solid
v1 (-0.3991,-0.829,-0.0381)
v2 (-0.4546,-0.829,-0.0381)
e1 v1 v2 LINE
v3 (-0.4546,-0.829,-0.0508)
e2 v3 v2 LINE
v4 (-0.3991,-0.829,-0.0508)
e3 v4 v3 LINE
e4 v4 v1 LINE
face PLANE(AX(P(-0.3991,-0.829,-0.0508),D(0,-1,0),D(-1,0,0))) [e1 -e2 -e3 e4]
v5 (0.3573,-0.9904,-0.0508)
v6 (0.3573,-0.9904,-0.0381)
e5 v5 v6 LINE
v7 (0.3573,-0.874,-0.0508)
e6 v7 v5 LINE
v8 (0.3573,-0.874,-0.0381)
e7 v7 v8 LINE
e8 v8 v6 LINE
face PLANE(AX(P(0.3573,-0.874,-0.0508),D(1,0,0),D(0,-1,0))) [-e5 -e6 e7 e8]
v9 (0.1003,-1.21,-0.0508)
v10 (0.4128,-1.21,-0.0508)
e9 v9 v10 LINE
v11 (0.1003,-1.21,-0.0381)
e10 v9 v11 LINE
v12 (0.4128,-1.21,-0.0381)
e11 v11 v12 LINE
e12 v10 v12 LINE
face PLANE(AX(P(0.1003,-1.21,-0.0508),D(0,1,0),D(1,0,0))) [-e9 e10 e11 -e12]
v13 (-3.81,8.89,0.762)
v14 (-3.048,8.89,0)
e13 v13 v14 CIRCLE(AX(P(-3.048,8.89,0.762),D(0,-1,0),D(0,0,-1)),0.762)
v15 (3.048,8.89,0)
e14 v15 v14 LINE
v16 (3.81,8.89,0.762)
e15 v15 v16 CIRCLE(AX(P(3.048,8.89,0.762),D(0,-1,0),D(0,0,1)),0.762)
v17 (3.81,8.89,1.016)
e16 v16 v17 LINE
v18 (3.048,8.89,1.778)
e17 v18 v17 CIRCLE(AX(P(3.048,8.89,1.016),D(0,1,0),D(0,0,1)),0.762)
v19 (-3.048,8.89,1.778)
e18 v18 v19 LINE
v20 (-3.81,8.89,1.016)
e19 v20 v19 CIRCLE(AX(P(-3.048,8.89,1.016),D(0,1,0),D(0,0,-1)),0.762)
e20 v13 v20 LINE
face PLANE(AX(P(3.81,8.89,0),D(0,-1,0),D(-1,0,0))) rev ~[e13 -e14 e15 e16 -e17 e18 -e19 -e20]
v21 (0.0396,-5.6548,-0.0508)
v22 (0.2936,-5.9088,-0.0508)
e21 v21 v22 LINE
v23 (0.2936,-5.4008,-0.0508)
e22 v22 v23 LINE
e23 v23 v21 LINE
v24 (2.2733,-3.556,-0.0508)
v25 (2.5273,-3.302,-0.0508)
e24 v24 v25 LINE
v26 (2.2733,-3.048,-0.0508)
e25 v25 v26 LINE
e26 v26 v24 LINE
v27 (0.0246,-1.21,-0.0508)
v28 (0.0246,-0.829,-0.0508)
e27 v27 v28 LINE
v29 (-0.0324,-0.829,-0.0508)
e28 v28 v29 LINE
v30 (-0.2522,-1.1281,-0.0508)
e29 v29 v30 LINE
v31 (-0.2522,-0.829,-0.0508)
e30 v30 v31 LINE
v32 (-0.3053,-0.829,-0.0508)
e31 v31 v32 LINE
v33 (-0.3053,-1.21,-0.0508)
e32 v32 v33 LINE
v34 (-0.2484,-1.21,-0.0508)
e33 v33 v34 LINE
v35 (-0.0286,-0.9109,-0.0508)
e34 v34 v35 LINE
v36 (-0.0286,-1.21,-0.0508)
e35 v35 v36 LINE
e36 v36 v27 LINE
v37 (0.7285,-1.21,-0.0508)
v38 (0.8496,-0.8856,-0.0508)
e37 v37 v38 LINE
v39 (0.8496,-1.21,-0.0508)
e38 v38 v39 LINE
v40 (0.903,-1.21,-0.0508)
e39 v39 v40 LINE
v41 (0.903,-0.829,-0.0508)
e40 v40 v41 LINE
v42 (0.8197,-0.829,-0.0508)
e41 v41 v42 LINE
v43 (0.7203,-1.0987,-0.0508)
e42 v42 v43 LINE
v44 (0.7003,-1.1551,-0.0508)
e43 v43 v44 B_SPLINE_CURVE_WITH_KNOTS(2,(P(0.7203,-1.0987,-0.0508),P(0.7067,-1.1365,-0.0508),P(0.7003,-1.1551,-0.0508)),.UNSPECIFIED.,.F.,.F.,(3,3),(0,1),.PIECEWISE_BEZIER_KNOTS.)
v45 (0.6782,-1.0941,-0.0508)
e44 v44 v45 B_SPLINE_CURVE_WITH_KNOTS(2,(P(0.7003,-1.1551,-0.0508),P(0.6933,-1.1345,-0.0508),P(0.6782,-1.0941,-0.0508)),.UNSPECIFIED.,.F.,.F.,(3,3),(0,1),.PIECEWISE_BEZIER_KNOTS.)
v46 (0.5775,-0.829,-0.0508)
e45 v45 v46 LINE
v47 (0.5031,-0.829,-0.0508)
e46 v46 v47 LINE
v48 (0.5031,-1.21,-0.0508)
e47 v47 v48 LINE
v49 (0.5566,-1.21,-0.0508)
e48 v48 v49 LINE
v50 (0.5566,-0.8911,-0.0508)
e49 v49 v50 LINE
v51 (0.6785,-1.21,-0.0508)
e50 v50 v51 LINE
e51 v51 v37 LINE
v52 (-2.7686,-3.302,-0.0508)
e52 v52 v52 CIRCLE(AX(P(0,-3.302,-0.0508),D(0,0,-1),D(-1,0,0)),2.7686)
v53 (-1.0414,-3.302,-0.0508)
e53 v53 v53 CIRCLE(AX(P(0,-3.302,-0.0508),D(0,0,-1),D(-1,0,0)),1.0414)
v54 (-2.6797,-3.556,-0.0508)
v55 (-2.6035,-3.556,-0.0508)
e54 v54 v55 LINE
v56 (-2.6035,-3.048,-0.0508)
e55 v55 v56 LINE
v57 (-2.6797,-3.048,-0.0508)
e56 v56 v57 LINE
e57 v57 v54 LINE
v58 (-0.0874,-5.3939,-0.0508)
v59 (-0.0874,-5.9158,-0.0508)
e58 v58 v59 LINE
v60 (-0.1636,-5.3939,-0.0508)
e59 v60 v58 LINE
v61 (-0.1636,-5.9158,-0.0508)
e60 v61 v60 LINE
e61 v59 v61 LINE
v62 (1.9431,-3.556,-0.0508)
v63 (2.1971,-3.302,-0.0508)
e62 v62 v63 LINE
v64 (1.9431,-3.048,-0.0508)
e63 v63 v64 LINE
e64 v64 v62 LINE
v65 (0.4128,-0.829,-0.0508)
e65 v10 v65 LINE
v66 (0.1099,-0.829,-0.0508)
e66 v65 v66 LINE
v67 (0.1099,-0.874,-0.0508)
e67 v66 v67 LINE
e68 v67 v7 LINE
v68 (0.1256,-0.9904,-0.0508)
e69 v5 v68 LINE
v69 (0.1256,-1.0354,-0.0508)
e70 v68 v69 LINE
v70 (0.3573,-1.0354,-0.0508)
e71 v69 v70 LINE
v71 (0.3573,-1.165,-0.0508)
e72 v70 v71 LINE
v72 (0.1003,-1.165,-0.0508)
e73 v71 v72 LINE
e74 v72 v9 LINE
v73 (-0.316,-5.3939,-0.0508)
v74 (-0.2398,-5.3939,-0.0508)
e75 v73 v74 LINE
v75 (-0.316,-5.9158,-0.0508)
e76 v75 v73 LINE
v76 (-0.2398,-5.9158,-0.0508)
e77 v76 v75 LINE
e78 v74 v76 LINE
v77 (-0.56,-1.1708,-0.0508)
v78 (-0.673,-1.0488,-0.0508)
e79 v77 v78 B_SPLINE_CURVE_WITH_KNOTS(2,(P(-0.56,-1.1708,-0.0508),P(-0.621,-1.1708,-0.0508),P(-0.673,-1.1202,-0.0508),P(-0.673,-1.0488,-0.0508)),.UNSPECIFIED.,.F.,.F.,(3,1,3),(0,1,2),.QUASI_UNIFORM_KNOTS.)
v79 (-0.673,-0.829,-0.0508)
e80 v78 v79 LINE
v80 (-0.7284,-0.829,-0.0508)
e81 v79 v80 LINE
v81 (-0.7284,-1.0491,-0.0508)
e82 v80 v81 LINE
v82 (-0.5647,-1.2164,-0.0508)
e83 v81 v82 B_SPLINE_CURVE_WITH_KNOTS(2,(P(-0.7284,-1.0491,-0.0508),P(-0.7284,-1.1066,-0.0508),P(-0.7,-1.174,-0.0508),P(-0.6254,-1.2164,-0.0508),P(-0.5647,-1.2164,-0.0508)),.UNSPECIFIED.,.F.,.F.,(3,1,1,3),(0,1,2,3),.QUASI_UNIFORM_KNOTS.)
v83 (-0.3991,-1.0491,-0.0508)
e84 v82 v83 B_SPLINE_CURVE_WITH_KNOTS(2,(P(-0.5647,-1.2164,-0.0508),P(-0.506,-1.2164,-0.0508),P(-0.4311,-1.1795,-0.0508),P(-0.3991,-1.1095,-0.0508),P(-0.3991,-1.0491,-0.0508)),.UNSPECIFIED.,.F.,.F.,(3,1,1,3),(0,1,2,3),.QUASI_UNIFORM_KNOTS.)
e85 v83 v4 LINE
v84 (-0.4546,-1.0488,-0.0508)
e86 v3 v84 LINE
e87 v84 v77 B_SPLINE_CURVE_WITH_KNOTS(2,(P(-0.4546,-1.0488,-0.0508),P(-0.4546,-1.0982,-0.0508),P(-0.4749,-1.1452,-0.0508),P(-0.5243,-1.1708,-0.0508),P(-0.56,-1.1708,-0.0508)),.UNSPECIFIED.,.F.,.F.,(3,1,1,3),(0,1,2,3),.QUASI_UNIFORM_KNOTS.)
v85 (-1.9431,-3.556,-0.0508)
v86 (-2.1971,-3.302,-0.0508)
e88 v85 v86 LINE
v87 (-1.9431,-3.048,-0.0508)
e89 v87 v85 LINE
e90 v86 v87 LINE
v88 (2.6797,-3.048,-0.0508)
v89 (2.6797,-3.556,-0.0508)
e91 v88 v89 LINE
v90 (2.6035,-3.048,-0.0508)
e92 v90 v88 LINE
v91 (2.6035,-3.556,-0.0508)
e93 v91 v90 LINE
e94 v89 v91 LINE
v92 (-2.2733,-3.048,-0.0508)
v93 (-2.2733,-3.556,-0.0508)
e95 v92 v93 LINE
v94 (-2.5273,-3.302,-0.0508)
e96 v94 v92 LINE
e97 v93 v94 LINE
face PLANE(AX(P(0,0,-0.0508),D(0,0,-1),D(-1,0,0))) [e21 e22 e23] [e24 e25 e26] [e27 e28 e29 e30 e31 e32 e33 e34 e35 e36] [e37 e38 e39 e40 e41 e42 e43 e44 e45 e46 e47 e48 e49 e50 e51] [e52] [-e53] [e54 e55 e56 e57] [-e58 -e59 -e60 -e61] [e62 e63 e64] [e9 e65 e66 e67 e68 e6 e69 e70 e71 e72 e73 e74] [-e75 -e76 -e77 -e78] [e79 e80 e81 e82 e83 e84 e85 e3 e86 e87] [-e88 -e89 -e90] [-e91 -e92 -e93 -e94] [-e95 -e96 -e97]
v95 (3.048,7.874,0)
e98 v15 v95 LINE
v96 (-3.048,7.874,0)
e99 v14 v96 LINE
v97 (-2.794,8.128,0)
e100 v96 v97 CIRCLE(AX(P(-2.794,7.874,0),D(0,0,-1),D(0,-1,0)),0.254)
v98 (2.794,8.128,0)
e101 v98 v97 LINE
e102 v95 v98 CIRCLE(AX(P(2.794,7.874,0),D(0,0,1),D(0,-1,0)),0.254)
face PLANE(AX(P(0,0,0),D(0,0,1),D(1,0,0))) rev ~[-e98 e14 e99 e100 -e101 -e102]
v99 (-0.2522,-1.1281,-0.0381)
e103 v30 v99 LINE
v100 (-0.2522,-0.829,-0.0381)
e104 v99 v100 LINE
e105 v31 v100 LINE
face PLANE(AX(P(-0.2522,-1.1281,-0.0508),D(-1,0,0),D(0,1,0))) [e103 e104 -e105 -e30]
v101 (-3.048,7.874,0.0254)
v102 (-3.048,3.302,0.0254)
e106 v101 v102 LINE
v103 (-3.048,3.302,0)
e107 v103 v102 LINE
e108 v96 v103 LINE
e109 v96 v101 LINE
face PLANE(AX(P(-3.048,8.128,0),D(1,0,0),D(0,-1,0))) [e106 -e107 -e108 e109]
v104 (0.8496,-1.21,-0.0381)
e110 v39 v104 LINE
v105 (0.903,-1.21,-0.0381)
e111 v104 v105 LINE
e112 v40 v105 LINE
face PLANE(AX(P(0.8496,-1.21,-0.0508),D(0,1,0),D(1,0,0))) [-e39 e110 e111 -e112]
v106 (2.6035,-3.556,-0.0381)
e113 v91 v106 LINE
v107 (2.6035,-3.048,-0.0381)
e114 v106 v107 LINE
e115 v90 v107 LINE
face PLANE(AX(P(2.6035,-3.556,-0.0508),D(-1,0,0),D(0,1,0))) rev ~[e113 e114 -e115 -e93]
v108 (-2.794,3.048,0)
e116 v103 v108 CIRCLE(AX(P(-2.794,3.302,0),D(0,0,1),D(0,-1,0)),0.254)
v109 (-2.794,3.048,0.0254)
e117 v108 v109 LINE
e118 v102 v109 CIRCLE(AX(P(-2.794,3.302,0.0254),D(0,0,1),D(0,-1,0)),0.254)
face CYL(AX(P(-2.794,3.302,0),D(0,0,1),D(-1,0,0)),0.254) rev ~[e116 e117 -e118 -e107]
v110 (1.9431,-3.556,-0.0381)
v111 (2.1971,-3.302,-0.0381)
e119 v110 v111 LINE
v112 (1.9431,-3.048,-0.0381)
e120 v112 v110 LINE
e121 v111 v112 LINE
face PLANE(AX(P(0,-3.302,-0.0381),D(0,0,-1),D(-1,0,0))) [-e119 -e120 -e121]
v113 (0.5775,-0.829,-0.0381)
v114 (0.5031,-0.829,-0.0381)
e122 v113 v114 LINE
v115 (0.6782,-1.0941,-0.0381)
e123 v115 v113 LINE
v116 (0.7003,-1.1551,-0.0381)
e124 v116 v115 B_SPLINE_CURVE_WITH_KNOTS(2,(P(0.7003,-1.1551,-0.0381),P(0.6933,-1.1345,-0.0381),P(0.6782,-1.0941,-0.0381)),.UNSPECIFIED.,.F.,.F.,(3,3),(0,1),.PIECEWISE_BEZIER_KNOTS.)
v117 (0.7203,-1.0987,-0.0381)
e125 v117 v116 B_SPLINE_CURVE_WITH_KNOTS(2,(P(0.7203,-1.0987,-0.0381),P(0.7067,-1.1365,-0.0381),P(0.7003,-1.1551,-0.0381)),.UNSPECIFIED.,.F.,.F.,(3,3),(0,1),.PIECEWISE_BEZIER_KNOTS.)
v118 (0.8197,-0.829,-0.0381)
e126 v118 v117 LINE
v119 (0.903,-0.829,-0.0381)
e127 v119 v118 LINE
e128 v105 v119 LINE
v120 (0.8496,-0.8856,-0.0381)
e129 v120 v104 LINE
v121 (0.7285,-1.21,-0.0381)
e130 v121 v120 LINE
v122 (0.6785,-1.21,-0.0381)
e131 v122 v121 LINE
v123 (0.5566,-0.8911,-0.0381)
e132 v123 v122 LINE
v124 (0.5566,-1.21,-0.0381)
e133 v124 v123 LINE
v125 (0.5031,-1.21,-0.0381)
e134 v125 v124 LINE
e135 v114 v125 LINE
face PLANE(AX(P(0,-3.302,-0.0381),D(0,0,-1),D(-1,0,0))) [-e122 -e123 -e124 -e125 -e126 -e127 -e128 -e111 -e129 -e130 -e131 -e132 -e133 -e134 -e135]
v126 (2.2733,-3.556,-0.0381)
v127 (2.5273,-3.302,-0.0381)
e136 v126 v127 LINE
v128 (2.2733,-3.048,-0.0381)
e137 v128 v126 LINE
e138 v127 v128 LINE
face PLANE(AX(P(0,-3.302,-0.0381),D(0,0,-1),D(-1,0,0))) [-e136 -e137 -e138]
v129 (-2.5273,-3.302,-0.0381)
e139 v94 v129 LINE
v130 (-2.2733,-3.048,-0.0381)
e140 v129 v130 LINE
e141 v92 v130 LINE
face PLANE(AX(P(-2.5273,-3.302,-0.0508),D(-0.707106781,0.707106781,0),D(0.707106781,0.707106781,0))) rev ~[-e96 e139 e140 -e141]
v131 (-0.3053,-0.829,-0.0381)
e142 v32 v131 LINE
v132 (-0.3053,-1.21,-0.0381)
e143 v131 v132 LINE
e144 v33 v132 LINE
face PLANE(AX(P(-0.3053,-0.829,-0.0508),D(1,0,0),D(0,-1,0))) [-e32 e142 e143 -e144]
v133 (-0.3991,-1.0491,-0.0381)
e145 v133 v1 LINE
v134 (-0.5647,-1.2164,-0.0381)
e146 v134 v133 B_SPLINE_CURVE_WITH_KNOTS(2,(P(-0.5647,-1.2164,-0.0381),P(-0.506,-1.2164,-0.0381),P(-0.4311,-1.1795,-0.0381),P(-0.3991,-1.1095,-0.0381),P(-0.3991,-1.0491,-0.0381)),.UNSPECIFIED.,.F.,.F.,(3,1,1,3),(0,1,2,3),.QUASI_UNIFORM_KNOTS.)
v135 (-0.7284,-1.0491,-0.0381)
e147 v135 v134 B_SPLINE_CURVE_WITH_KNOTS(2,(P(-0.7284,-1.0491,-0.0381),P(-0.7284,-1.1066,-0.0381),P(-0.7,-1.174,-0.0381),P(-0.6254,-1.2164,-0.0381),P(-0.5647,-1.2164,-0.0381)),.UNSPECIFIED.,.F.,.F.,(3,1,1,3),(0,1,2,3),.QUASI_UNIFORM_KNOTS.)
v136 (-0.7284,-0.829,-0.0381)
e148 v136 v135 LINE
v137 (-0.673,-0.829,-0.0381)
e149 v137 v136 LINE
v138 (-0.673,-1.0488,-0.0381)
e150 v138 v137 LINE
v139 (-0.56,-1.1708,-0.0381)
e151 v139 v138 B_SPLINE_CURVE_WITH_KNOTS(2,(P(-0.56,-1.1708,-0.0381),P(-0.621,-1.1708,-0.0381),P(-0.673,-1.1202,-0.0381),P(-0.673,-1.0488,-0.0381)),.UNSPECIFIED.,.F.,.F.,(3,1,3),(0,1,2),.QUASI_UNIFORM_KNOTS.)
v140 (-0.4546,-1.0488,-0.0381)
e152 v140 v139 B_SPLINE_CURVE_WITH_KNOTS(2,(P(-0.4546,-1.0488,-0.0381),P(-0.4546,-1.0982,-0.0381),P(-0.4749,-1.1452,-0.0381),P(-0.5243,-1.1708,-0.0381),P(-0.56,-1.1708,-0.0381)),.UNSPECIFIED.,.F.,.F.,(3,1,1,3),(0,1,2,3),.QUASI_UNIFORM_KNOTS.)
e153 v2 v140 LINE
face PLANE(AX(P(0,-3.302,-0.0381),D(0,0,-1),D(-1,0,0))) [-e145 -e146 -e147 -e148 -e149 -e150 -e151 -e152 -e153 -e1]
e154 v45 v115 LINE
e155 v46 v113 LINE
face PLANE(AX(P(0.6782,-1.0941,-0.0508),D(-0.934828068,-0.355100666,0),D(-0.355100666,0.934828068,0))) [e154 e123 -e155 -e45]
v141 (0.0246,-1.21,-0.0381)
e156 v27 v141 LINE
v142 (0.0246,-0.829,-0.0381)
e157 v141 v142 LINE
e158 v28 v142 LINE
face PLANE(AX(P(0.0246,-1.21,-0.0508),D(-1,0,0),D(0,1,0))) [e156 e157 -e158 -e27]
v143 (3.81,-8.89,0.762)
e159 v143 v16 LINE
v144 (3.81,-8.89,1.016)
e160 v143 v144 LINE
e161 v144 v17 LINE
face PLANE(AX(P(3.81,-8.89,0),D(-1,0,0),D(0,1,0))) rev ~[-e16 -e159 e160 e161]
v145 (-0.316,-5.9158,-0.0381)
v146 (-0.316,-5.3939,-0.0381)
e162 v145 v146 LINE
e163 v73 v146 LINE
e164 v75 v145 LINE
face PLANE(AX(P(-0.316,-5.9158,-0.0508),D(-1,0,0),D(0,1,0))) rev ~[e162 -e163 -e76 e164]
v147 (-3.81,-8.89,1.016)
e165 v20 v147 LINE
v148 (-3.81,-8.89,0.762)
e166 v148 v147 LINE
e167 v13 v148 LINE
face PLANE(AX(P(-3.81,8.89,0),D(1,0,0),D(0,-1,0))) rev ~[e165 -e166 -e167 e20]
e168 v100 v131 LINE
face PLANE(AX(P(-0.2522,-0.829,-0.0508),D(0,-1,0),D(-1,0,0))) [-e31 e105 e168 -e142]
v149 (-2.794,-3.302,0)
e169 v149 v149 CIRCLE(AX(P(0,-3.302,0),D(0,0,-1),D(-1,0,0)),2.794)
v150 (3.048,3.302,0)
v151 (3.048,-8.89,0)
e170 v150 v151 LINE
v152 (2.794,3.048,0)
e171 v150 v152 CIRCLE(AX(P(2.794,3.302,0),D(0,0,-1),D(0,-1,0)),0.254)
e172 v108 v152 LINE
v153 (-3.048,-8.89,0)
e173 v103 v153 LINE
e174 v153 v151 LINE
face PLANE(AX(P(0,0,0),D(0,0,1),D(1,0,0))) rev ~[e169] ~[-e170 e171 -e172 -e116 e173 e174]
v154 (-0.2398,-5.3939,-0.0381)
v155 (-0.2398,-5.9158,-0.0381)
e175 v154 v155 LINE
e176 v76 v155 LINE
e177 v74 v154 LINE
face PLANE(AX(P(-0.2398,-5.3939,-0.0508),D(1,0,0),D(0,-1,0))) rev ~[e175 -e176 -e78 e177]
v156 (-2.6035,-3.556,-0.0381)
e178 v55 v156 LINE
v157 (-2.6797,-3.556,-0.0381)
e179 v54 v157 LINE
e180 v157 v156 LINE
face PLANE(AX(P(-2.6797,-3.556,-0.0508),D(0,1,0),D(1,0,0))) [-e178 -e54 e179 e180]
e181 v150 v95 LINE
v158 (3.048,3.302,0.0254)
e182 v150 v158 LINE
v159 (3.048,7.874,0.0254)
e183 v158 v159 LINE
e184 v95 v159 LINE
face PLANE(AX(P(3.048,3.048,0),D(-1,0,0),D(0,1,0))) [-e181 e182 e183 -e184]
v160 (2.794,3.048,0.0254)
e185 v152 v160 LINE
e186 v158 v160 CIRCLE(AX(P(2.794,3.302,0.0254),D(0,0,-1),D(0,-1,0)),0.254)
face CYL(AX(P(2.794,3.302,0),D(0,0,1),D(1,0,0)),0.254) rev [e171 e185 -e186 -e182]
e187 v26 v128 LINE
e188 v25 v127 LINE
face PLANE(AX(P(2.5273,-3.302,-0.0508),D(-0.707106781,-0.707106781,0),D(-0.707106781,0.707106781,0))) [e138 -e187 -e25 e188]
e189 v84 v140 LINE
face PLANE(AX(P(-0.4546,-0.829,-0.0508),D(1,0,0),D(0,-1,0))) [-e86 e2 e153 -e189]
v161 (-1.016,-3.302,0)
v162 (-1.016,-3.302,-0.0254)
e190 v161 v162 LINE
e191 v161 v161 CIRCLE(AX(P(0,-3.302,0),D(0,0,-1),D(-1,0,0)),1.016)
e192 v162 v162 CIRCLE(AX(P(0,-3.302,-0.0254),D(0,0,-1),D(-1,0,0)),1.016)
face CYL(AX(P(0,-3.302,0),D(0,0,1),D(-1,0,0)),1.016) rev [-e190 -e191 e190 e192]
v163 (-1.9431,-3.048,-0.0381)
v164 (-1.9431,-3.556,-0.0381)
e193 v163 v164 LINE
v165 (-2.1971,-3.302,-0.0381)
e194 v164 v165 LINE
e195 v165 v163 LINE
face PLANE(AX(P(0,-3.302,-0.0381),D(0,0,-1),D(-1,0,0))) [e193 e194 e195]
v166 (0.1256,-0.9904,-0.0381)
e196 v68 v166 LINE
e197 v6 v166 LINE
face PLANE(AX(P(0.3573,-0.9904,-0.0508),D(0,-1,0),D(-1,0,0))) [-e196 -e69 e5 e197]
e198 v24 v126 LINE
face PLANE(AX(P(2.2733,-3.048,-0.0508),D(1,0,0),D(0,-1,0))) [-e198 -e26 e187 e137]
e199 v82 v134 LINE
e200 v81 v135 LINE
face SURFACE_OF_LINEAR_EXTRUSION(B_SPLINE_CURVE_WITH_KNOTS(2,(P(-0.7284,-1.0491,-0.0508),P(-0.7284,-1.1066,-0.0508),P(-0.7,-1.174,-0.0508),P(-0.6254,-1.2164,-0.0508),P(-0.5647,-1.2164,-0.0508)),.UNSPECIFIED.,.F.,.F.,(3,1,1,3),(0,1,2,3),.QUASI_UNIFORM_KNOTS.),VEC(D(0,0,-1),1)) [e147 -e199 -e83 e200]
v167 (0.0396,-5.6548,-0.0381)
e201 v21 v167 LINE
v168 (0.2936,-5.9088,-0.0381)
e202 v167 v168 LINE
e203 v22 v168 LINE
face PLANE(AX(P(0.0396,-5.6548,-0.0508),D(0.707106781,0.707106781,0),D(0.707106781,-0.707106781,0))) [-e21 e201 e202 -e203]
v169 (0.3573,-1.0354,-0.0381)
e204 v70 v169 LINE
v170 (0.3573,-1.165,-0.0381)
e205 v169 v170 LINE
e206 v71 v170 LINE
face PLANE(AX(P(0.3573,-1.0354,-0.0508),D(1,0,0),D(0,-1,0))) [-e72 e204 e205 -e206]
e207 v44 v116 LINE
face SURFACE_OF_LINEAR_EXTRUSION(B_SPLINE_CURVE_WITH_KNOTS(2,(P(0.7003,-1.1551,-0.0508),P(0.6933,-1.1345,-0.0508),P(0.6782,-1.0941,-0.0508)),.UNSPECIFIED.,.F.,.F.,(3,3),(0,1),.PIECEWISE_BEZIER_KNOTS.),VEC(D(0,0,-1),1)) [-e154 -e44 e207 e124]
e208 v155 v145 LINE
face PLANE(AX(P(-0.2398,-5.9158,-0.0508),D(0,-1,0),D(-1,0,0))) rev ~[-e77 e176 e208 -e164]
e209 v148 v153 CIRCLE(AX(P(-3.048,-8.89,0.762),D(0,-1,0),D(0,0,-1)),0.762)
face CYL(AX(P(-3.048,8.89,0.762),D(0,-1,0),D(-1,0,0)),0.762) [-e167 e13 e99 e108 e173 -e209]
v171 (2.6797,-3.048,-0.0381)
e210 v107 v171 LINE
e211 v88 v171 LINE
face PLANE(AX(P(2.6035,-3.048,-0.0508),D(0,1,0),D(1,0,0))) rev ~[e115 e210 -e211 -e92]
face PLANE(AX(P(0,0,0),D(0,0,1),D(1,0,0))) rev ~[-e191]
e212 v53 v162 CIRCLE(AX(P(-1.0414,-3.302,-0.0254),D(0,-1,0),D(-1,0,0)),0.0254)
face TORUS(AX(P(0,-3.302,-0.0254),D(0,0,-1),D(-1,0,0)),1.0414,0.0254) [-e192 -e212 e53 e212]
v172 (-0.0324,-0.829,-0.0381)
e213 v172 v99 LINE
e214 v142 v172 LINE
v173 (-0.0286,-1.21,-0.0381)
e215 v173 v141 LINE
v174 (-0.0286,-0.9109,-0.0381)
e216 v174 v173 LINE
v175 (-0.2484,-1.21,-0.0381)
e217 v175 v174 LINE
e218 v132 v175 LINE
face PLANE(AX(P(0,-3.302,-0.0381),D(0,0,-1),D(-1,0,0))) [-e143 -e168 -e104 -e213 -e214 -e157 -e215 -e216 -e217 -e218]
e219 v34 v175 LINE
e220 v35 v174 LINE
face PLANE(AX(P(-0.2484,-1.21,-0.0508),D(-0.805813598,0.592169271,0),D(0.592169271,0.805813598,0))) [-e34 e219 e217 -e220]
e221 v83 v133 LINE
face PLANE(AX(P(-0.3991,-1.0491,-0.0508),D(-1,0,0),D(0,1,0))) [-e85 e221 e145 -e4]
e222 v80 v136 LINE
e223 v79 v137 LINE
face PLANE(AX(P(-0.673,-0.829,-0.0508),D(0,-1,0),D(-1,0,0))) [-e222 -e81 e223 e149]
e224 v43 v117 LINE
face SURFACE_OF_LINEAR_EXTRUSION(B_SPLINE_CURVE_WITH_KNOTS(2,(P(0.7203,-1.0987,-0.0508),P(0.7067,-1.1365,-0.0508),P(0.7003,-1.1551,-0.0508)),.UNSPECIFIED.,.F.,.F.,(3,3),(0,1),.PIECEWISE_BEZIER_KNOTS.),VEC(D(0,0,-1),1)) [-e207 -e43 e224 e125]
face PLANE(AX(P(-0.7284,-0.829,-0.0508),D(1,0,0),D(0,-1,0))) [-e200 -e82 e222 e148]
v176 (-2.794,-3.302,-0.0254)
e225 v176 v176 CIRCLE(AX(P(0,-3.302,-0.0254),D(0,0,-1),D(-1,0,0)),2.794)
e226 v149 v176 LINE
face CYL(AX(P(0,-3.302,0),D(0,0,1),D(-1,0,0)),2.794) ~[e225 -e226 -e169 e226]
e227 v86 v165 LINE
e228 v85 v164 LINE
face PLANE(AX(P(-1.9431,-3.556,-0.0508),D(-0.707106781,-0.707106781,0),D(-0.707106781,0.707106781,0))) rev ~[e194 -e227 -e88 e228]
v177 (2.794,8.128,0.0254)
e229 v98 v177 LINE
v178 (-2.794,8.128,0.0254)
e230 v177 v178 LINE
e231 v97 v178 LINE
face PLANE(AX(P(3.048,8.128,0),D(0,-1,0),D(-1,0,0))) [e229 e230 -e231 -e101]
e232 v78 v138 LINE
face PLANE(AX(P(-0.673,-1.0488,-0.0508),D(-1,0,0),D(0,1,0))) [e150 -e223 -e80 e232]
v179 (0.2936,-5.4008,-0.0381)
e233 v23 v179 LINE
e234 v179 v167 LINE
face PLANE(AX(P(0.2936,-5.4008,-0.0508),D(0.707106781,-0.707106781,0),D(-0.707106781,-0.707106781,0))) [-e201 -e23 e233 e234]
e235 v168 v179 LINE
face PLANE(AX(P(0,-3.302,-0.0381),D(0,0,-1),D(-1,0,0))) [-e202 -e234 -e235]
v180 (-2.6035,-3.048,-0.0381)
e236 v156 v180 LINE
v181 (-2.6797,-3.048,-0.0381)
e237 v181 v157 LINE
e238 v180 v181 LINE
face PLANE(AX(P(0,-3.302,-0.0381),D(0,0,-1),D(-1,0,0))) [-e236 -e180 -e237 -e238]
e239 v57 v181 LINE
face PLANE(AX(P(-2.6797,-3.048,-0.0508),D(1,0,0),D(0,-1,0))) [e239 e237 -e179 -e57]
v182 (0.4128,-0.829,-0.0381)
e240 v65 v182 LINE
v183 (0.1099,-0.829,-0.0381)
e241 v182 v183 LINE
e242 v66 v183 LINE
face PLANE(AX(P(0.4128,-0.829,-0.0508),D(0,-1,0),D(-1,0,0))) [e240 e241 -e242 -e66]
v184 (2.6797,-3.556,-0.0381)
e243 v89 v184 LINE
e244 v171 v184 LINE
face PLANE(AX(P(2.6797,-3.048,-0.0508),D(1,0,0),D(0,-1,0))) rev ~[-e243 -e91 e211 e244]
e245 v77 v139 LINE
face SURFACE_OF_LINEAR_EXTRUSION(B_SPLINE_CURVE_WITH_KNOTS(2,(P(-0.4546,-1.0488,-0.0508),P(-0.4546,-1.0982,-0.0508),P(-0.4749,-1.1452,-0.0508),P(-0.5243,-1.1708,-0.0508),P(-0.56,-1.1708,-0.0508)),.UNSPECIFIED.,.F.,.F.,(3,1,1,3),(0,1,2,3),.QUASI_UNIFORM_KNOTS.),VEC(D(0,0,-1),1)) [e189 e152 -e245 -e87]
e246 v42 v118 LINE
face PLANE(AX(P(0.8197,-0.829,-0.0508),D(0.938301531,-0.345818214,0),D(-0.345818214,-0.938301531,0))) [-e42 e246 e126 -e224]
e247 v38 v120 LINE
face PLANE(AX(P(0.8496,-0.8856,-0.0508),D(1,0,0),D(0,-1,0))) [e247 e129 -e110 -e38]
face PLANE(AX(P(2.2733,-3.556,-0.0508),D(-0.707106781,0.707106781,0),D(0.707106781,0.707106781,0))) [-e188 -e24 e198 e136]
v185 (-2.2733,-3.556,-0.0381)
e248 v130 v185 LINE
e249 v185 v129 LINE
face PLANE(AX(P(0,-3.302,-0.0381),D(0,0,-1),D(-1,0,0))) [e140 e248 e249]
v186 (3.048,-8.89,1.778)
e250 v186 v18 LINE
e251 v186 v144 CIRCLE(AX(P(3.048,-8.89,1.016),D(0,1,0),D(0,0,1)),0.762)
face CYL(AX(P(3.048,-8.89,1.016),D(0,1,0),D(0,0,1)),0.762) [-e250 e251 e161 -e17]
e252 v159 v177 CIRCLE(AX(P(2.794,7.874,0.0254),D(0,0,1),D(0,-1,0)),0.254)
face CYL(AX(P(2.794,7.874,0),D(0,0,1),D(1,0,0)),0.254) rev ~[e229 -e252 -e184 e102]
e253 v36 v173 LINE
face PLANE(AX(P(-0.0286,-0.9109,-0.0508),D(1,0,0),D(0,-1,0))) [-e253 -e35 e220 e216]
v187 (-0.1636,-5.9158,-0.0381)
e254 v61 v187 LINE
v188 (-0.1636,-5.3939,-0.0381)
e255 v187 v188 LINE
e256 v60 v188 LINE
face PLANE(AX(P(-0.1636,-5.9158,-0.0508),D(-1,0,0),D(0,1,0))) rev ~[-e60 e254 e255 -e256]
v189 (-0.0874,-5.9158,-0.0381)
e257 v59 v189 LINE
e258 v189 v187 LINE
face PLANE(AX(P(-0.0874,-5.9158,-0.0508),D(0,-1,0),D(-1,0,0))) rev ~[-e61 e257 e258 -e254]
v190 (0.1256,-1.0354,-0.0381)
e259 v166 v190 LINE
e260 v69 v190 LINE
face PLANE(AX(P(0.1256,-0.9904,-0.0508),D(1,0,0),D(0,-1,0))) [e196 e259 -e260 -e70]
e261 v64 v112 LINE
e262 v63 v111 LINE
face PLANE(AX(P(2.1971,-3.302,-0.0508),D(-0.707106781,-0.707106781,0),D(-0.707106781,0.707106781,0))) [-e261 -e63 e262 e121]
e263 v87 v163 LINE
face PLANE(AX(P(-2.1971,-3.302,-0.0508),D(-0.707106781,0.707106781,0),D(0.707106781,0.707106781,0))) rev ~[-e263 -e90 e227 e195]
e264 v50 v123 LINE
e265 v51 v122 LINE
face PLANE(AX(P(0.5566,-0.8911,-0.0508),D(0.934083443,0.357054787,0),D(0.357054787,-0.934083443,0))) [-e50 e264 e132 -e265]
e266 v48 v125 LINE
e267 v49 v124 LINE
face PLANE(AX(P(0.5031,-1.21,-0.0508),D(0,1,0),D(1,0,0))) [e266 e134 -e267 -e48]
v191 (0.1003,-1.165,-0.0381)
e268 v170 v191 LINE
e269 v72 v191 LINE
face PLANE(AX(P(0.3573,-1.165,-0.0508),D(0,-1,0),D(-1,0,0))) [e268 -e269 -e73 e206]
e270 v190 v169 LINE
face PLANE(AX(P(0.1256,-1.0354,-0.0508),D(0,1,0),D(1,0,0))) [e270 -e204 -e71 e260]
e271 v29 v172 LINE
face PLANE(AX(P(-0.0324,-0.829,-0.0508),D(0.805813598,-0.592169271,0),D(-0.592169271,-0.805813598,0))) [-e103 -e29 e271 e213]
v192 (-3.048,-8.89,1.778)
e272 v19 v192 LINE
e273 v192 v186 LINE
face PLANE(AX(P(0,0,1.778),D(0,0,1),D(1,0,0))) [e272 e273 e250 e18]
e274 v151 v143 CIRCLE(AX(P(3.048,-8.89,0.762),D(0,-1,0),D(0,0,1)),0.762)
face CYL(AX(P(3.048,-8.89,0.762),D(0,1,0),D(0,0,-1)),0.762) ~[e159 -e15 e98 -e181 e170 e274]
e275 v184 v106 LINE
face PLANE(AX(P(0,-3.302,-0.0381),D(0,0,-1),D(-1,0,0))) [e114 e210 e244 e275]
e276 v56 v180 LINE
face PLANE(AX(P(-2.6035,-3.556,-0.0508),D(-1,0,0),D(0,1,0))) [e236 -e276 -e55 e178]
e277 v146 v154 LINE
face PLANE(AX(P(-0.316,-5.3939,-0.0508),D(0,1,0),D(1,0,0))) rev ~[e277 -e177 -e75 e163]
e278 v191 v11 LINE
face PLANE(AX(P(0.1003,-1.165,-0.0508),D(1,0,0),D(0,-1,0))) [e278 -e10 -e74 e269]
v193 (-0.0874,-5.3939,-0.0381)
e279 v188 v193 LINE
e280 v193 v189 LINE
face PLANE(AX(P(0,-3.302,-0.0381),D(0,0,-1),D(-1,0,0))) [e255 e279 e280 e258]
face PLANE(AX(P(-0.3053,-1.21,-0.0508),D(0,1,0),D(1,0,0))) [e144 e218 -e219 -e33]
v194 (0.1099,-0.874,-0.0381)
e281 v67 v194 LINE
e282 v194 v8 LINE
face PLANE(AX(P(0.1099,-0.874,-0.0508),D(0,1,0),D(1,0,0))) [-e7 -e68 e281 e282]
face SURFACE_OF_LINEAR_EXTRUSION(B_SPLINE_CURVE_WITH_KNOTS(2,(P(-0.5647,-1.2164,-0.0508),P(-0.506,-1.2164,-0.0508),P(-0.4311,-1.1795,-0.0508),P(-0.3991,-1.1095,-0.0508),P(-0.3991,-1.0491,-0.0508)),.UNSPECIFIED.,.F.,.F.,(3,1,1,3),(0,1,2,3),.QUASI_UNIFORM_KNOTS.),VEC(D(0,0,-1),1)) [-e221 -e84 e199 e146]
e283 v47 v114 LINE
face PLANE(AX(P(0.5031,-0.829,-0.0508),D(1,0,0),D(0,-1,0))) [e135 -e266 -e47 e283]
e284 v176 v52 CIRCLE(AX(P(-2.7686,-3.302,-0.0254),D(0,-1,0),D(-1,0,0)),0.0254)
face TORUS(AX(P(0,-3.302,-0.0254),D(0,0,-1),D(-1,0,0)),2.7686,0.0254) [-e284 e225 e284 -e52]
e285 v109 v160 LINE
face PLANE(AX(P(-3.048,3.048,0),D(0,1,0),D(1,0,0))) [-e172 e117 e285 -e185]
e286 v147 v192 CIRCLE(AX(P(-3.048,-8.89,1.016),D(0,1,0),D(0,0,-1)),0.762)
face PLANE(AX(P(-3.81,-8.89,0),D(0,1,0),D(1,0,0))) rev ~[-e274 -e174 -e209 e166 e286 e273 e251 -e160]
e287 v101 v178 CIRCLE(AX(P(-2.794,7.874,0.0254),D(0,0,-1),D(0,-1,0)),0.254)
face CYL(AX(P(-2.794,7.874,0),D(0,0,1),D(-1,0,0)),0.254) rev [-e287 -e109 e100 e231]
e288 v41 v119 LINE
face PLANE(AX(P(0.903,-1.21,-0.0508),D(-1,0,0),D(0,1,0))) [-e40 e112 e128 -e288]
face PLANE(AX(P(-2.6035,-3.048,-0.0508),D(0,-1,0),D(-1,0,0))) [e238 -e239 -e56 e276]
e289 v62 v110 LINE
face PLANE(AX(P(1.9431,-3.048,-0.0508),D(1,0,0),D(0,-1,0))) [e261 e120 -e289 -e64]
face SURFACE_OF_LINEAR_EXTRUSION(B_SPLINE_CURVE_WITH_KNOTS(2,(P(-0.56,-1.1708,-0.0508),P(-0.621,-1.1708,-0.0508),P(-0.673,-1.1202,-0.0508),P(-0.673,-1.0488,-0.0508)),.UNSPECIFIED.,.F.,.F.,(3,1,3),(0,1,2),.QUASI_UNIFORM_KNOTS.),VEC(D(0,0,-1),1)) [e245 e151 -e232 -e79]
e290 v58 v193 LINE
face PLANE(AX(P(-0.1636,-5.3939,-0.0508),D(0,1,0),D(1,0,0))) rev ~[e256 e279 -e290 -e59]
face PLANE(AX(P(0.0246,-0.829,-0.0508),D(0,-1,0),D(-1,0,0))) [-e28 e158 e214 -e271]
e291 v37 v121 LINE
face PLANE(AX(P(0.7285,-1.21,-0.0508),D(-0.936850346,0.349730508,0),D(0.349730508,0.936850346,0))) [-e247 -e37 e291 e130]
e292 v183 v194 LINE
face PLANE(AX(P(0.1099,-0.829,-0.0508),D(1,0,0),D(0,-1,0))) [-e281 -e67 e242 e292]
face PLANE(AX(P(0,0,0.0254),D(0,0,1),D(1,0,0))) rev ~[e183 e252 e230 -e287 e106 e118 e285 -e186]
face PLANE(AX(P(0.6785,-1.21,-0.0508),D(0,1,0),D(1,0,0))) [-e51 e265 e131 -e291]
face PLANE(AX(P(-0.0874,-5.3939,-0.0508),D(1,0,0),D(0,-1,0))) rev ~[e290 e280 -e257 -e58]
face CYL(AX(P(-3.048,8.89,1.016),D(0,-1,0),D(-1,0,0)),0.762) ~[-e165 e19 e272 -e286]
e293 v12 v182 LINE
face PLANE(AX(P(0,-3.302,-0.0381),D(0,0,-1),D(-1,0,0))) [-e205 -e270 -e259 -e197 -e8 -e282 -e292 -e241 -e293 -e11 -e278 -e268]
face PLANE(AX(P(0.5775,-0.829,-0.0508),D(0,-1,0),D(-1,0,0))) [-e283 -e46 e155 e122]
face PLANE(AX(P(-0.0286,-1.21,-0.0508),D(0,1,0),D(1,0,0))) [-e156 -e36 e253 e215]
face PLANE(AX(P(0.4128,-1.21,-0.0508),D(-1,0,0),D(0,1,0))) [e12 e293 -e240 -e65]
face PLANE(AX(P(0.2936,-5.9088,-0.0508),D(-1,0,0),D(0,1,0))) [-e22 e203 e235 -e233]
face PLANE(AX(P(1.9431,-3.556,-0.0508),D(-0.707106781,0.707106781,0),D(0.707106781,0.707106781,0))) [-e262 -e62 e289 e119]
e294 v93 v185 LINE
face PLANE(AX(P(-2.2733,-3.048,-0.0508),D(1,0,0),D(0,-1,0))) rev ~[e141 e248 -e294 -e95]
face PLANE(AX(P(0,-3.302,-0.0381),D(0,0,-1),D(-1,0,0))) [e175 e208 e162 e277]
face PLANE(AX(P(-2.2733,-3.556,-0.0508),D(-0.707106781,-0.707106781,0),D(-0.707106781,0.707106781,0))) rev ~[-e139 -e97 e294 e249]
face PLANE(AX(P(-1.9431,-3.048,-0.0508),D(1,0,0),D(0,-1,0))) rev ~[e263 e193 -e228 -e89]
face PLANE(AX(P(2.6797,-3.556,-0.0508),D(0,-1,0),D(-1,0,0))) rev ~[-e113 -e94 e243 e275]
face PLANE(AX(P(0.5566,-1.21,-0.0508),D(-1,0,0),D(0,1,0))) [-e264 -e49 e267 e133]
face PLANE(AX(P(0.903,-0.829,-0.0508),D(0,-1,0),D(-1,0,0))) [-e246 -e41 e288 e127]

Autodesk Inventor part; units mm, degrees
ref_plane "YZ Plane" through (0, 0, 0) normal (1, 0, 0) x (0, 1, 0)
ref_plane "XZ Plane" through (0, 0, 0) normal (0, 1, 0) x (-1, 0, 0)
ref_plane "XY Plane" through (0, 0, 0) normal (0, 0, 1) x (1, 0, 0)
sketch "Sketch1" plane through (0, 0, 0) normal (0, 0, 1) x (1, 0, 0)
  line L0 (-3.81, -8.89) -> (3.81, -8.89)
  line L1 (3.81, -8.89) -> (3.81, 8.89)
  line L2 (3.81, 8.89) -> (-3.81, 8.89)
  line L3 (-3.81, 8.89) -> (-3.81, -8.89)
  line L4 (-3.81, -8.89) -> (3.81, 8.89) construction
  line L5 (3.81, -8.89) -> (-3.81, 8.89) construction
  line L6 (-3.048, 3.048) -> (3.048, 3.048)
  line L7 (3.048, 3.048) -> (3.048, 8.128)
  line L8 (3.048, 8.128) -> (-3.048, 8.128)
  line L9 (-3.048, 8.128) -> (-3.048, 3.048)
  line L10 (-3.048, 3.048) -> (3.048, 8.128) construction
  line L11 (3.048, 3.048) -> (-3.048, 8.128) construction
  circle A0 centre (0, -3.302) radius 2.794
  point P0 (0, 0)
  point P1 (0, 5.588)
  dimension "d0" = 7.62
  dimension "d1" = 17.78
  dimension "d2" = 0.762
  dimension "d3" = 0.762
  dimension "d4" = 0.762
  dimension "d5" = 5.08
  dimension "d6" = 5.588
  dimension "d7" = 5.588
extrude "Extrusion1" add sketch "Sketch1" along normal blind 1.778 contours L3 L2 L1 L0 | L9 L8 L7 L6 | A0
fillet "Fillet1" radius 0.762 4 edges at (3.81, 0, 0) (3.81, 0, 1.778) (-3.81, 0, 1.778) (-3.81, 0, 0)
extrude "Extrusion2" cut sketch "Sketch1" along normal blind 0.0254 contours L9 L8 L7 L6
fillet "Fillet2" radius 0.254 4 edges at (3.048, 8.128, 0.0127) (-3.048, 8.128, 0.0127) (3.048, 3.048, 0.0127) (-3.048, 3.048, 0.0127)
sketch "Sketch2" plane through (0, 0, 0) normal (0, 0, -1) x (-1, 0, 0)
  circle A0 centre (0, -3.302) radius 1.016
  circle A1 centre (0, -3.302) radius 2.794 projected
  point P0 (0, 0)
  dimension "d14" = 2.032
extrude "Extrusion3" add sketch "Sketch2" along normal blind 0.0508
fillet "Fillet3" radius 0.0254 2 edges at (1.016, -3.302, -0.0508) (2.794, -3.302, -0.0508)
sketch "Sketch3" plane through (0, -3.302, -0.0508) normal (0, 0, -1) x (-1, 0, 0)
  line L0 (-0.9463, 2.473) -> (1.05, 2.473) construction
  line L1 (1.05, 2.473) -> (1.05, 1.9797) construction
  line L2 (1.05, 1.9797) -> (-0.9463, 1.9797) construction
  line L3 (-0.9463, 1.9797) -> (-0.9463, 2.473) construction
  line L4 (-2.6797, -0.254) -> (-2.6035, -0.254)
  line L5 (-2.6035, -0.254) -> (-2.6035, 0.254)
  line L6 (-2.6035, 0.254) -> (-2.6797, 0.254)
  line L7 (-2.6797, 0.254) -> (-2.6797, -0.254)
  line L8 (-2.6797, -0.254) -> (-2.6035, 0.254) construction
  line L9 (-2.6035, -0.254) -> (-2.6797, 0.254) construction
  line L10 (0, 0) -> (0, 3.302) construction
  line L11 (-2.5273, 0) -> (-2.2733, 0.254)
  line L12 (-2.2733, 0.254) -> (-2.2733, -0.254)
  line L13 (-2.2733, -0.254) -> (-2.5273, 0)
  line L14 (-2.1971, 0) -> (-1.9431, 0.254)
  line L15 (-1.9431, 0.254) -> (-1.9431, -0.254)
  line L16 (-3.048, 12.192) -> (-3.048, -5.588) projected
  line L17 (-1.9431, -0.254) -> (-2.1971, 0)
  line L18 (2.6797, -0.254) -> (2.6035, -0.254)
  line L19 (2.6035, -0.254) -> (2.6035, 0.254)
  line L20 (2.6035, 0.254) -> (2.6797, 0.254)
  line L21 (2.6797, 0.254) -> (2.6797, -0.254)
  line L22 (2.6797, -0.254) -> (2.6035, 0.254) construction
  line L23 (2.6035, -0.254) -> (2.6797, 0.254) construction
  line L24 (2.5273, 0) -> (2.2733, 0.254)
  line L25 (2.2733, 0.254) -> (2.2733, -0.254)
  line L26 (2.2733, -0.254) -> (2.5273, 0)
  line L27 (2.1971, 0) -> (1.9431, 0.254)
  line L28 (1.9431, 0.254) -> (1.9431, -0.254)
  line L29 (1.9431, -0.254) -> (2.1971, 0)
  line L30 (-0.2936, -2.0988) -> (-0.0396, -2.3528)
  line L31 (-0.0396, -2.3528) -> (-0.2936, -2.6068)
  line L32 (-0.2936, -2.6068) -> (-0.2936, -2.0988)
  line L33 (0.0874, -2.6138) -> (0.1636, -2.6138)
  line L34 (0.1636, -2.6138) -> (0.1636, -2.0919)
  line L35 (0.1636, -2.0919) -> (0.0874, -2.0919)
  line L36 (0.0874, -2.0919) -> (0.0874, -2.6138)
  line L37 (0.0874, -2.6138) -> (0.1636, -2.0919) construction
  line L38 (0.1636, -2.6138) -> (0.0874, -2.0919) construction
  line L39 (0.2398, -2.6138) -> (0.316, -2.6138)
  line L40 (0.316, -2.6138) -> (0.316, -2.0919)
  line L41 (0.316, -2.0919) -> (0.2398, -2.0919)
  line L42 (0.2398, -2.0919) -> (0.2398, -2.6138)
  line L43 (0.2398, -2.6138) -> (0.316, -2.0919) construction
  line L44 (0.316, -2.6138) -> (0.2398, -2.0919) construction
  line L45 (-2.6416, 0) -> (0, 0) construction
  line L46 (-0.903, 2.092) -> (-0.903, 2.473)
  line L47 (-0.903, 2.473) -> (-0.8197, 2.473)
  line L48 (-0.8197, 2.473) -> (-0.7203, 2.2033)
  spline S0 degree 2 poles (-0.7203, 2.2033) (-0.7067, 2.1655) (-0.7003, 2.1469) knots 0 0 0 1 1 1
  spline S1 degree 2 poles (-0.7003, 2.1469) (-0.6933, 2.1675) (-0.6782, 2.2079) knots 0 0 0 1 1 1
  line L49 (-0.6782, 2.2079) -> (-0.5775, 2.473)
  line L50 (-0.5775, 2.473) -> (-0.5031, 2.473)
  line L51 (-0.5031, 2.473) -> (-0.5031, 2.092)
  line L52 (-0.5031, 2.092) -> (-0.5566, 2.092)
  line L53 (-0.5566, 2.092) -> (-0.5566, 2.4109)
  line L54 (-0.5566, 2.4109) -> (-0.6785, 2.092)
  line L55 (-0.6785, 2.092) -> (-0.7285, 2.092)
  line L56 (-0.7285, 2.092) -> (-0.8496, 2.4164)
  line L57 (-0.8496, 2.4164) -> (-0.8496, 2.092)
  line L58 (-0.8496, 2.092) -> (-0.903, 2.092)
  line L59 (-0.4128, 2.092) -> (-0.4128, 2.473)
  line L60 (-0.4128, 2.473) -> (-0.1099, 2.473)
  line L61 (-0.1099, 2.473) -> (-0.1099, 2.428)
  line L62 (-0.1099, 2.428) -> (-0.3573, 2.428)
  line L63 (-0.3573, 2.428) -> (-0.3573, 2.3116)
  line L64 (-0.3573, 2.3116) -> (-0.1256, 2.3116)
  line L65 (-0.1256, 2.3116) -> (-0.1256, 2.2666)
  line L66 (-0.1256, 2.2666) -> (-0.3573, 2.2666)
  line L67 (-0.3573, 2.2666) -> (-0.3573, 2.137)
  line L68 (-0.3573, 2.137) -> (-0.1003, 2.137)
  line L69 (-0.1003, 2.137) -> (-0.1003, 2.092)
  line L70 (-0.1003, 2.092) -> (-0.4128, 2.092)
  line L71 (-0.0246, 2.092) -> (-0.0246, 2.473)
  line L72 (-0.0246, 2.473) -> (0.0324, 2.473)
  line L73 (0.0324, 2.473) -> (0.2522, 2.1739)
  line L74 (0.2522, 2.1739) -> (0.2522, 2.473)
  line L75 (0.2522, 2.473) -> (0.3053, 2.473)
  line L76 (0.3053, 2.473) -> (0.3053, 2.092)
  line L77 (0.3053, 2.092) -> (0.2484, 2.092)
  line L78 (0.2484, 2.092) -> (0.0286, 2.3911)
  line L79 (0.0286, 2.3911) -> (0.0286, 2.092)
  line L80 (0.0286, 2.092) -> (-0.0246, 2.092)
  line L81 (0.673, 2.473) -> (0.7284, 2.473)
  line L82 (0.7284, 2.473) -> (0.7284, 2.2529)
  spline S2 degree 2 poles (0.7284, 2.2529) (0.7284, 2.1954) (0.7, 2.128) (0.6254, 2.0856) (0.5647, 2.0856) knots 0 0 0 1 2 3 3 3
  spline S3 degree 2 poles (0.5647, 2.0856) (0.506, 2.0856) (0.4311, 2.1225) (0.3991, 2.1925) (0.3991, 2.2529) knots 0 0 0 1 2 3 3 3
  line L83 (0.3991, 2.2529) -> (0.3991, 2.473)
  line L84 (0.3991, 2.473) -> (0.4546, 2.473)
  line L85 (0.4546, 2.473) -> (0.4546, 2.2532)
  spline S4 degree 2 poles (0.4546, 2.2532) (0.4546, 2.2038) (0.4749, 2.1568) (0.5243, 2.1312) (0.56, 2.1312) knots 0 0 0 1 2 3 3 3
  spline S5 degree 2 poles (0.56, 2.1312) (0.621, 2.1312) (0.673, 2.1818) (0.673, 2.2532) knots 0 0 0 1 2 2 2
  line L86 (0.673, 2.2532) -> (0.673, 2.473)
  point P0 (2.6416, 0)
  point P1 (0.1255, -2.3528)
  point P2 (0.2779, -2.3528)
  dimension "d18" = 0.254
  dimension "d19" = 0.254
  dimension "d22" = 0.508
  dimension "d23" = 0.254
  dimension "d24" = 3.302
  dimension "d25" = 2.6416
  dimension "d26" = 0.0762
  dimension "d27" = 0.0762
  dimension "d28" = 0.0762
  dimension "d29" = 0.254
  dimension "d30" = 0.508
  dimension "d31" = 0.254
  dimension "d32" = 0.127
  dimension "d33" = 0.0762
  dimension "d34" = 0.0762
extrude "Extrusion4" cut sketch "Sketch3" against normal blind 0.0127
properties part number "iPod Nano"
